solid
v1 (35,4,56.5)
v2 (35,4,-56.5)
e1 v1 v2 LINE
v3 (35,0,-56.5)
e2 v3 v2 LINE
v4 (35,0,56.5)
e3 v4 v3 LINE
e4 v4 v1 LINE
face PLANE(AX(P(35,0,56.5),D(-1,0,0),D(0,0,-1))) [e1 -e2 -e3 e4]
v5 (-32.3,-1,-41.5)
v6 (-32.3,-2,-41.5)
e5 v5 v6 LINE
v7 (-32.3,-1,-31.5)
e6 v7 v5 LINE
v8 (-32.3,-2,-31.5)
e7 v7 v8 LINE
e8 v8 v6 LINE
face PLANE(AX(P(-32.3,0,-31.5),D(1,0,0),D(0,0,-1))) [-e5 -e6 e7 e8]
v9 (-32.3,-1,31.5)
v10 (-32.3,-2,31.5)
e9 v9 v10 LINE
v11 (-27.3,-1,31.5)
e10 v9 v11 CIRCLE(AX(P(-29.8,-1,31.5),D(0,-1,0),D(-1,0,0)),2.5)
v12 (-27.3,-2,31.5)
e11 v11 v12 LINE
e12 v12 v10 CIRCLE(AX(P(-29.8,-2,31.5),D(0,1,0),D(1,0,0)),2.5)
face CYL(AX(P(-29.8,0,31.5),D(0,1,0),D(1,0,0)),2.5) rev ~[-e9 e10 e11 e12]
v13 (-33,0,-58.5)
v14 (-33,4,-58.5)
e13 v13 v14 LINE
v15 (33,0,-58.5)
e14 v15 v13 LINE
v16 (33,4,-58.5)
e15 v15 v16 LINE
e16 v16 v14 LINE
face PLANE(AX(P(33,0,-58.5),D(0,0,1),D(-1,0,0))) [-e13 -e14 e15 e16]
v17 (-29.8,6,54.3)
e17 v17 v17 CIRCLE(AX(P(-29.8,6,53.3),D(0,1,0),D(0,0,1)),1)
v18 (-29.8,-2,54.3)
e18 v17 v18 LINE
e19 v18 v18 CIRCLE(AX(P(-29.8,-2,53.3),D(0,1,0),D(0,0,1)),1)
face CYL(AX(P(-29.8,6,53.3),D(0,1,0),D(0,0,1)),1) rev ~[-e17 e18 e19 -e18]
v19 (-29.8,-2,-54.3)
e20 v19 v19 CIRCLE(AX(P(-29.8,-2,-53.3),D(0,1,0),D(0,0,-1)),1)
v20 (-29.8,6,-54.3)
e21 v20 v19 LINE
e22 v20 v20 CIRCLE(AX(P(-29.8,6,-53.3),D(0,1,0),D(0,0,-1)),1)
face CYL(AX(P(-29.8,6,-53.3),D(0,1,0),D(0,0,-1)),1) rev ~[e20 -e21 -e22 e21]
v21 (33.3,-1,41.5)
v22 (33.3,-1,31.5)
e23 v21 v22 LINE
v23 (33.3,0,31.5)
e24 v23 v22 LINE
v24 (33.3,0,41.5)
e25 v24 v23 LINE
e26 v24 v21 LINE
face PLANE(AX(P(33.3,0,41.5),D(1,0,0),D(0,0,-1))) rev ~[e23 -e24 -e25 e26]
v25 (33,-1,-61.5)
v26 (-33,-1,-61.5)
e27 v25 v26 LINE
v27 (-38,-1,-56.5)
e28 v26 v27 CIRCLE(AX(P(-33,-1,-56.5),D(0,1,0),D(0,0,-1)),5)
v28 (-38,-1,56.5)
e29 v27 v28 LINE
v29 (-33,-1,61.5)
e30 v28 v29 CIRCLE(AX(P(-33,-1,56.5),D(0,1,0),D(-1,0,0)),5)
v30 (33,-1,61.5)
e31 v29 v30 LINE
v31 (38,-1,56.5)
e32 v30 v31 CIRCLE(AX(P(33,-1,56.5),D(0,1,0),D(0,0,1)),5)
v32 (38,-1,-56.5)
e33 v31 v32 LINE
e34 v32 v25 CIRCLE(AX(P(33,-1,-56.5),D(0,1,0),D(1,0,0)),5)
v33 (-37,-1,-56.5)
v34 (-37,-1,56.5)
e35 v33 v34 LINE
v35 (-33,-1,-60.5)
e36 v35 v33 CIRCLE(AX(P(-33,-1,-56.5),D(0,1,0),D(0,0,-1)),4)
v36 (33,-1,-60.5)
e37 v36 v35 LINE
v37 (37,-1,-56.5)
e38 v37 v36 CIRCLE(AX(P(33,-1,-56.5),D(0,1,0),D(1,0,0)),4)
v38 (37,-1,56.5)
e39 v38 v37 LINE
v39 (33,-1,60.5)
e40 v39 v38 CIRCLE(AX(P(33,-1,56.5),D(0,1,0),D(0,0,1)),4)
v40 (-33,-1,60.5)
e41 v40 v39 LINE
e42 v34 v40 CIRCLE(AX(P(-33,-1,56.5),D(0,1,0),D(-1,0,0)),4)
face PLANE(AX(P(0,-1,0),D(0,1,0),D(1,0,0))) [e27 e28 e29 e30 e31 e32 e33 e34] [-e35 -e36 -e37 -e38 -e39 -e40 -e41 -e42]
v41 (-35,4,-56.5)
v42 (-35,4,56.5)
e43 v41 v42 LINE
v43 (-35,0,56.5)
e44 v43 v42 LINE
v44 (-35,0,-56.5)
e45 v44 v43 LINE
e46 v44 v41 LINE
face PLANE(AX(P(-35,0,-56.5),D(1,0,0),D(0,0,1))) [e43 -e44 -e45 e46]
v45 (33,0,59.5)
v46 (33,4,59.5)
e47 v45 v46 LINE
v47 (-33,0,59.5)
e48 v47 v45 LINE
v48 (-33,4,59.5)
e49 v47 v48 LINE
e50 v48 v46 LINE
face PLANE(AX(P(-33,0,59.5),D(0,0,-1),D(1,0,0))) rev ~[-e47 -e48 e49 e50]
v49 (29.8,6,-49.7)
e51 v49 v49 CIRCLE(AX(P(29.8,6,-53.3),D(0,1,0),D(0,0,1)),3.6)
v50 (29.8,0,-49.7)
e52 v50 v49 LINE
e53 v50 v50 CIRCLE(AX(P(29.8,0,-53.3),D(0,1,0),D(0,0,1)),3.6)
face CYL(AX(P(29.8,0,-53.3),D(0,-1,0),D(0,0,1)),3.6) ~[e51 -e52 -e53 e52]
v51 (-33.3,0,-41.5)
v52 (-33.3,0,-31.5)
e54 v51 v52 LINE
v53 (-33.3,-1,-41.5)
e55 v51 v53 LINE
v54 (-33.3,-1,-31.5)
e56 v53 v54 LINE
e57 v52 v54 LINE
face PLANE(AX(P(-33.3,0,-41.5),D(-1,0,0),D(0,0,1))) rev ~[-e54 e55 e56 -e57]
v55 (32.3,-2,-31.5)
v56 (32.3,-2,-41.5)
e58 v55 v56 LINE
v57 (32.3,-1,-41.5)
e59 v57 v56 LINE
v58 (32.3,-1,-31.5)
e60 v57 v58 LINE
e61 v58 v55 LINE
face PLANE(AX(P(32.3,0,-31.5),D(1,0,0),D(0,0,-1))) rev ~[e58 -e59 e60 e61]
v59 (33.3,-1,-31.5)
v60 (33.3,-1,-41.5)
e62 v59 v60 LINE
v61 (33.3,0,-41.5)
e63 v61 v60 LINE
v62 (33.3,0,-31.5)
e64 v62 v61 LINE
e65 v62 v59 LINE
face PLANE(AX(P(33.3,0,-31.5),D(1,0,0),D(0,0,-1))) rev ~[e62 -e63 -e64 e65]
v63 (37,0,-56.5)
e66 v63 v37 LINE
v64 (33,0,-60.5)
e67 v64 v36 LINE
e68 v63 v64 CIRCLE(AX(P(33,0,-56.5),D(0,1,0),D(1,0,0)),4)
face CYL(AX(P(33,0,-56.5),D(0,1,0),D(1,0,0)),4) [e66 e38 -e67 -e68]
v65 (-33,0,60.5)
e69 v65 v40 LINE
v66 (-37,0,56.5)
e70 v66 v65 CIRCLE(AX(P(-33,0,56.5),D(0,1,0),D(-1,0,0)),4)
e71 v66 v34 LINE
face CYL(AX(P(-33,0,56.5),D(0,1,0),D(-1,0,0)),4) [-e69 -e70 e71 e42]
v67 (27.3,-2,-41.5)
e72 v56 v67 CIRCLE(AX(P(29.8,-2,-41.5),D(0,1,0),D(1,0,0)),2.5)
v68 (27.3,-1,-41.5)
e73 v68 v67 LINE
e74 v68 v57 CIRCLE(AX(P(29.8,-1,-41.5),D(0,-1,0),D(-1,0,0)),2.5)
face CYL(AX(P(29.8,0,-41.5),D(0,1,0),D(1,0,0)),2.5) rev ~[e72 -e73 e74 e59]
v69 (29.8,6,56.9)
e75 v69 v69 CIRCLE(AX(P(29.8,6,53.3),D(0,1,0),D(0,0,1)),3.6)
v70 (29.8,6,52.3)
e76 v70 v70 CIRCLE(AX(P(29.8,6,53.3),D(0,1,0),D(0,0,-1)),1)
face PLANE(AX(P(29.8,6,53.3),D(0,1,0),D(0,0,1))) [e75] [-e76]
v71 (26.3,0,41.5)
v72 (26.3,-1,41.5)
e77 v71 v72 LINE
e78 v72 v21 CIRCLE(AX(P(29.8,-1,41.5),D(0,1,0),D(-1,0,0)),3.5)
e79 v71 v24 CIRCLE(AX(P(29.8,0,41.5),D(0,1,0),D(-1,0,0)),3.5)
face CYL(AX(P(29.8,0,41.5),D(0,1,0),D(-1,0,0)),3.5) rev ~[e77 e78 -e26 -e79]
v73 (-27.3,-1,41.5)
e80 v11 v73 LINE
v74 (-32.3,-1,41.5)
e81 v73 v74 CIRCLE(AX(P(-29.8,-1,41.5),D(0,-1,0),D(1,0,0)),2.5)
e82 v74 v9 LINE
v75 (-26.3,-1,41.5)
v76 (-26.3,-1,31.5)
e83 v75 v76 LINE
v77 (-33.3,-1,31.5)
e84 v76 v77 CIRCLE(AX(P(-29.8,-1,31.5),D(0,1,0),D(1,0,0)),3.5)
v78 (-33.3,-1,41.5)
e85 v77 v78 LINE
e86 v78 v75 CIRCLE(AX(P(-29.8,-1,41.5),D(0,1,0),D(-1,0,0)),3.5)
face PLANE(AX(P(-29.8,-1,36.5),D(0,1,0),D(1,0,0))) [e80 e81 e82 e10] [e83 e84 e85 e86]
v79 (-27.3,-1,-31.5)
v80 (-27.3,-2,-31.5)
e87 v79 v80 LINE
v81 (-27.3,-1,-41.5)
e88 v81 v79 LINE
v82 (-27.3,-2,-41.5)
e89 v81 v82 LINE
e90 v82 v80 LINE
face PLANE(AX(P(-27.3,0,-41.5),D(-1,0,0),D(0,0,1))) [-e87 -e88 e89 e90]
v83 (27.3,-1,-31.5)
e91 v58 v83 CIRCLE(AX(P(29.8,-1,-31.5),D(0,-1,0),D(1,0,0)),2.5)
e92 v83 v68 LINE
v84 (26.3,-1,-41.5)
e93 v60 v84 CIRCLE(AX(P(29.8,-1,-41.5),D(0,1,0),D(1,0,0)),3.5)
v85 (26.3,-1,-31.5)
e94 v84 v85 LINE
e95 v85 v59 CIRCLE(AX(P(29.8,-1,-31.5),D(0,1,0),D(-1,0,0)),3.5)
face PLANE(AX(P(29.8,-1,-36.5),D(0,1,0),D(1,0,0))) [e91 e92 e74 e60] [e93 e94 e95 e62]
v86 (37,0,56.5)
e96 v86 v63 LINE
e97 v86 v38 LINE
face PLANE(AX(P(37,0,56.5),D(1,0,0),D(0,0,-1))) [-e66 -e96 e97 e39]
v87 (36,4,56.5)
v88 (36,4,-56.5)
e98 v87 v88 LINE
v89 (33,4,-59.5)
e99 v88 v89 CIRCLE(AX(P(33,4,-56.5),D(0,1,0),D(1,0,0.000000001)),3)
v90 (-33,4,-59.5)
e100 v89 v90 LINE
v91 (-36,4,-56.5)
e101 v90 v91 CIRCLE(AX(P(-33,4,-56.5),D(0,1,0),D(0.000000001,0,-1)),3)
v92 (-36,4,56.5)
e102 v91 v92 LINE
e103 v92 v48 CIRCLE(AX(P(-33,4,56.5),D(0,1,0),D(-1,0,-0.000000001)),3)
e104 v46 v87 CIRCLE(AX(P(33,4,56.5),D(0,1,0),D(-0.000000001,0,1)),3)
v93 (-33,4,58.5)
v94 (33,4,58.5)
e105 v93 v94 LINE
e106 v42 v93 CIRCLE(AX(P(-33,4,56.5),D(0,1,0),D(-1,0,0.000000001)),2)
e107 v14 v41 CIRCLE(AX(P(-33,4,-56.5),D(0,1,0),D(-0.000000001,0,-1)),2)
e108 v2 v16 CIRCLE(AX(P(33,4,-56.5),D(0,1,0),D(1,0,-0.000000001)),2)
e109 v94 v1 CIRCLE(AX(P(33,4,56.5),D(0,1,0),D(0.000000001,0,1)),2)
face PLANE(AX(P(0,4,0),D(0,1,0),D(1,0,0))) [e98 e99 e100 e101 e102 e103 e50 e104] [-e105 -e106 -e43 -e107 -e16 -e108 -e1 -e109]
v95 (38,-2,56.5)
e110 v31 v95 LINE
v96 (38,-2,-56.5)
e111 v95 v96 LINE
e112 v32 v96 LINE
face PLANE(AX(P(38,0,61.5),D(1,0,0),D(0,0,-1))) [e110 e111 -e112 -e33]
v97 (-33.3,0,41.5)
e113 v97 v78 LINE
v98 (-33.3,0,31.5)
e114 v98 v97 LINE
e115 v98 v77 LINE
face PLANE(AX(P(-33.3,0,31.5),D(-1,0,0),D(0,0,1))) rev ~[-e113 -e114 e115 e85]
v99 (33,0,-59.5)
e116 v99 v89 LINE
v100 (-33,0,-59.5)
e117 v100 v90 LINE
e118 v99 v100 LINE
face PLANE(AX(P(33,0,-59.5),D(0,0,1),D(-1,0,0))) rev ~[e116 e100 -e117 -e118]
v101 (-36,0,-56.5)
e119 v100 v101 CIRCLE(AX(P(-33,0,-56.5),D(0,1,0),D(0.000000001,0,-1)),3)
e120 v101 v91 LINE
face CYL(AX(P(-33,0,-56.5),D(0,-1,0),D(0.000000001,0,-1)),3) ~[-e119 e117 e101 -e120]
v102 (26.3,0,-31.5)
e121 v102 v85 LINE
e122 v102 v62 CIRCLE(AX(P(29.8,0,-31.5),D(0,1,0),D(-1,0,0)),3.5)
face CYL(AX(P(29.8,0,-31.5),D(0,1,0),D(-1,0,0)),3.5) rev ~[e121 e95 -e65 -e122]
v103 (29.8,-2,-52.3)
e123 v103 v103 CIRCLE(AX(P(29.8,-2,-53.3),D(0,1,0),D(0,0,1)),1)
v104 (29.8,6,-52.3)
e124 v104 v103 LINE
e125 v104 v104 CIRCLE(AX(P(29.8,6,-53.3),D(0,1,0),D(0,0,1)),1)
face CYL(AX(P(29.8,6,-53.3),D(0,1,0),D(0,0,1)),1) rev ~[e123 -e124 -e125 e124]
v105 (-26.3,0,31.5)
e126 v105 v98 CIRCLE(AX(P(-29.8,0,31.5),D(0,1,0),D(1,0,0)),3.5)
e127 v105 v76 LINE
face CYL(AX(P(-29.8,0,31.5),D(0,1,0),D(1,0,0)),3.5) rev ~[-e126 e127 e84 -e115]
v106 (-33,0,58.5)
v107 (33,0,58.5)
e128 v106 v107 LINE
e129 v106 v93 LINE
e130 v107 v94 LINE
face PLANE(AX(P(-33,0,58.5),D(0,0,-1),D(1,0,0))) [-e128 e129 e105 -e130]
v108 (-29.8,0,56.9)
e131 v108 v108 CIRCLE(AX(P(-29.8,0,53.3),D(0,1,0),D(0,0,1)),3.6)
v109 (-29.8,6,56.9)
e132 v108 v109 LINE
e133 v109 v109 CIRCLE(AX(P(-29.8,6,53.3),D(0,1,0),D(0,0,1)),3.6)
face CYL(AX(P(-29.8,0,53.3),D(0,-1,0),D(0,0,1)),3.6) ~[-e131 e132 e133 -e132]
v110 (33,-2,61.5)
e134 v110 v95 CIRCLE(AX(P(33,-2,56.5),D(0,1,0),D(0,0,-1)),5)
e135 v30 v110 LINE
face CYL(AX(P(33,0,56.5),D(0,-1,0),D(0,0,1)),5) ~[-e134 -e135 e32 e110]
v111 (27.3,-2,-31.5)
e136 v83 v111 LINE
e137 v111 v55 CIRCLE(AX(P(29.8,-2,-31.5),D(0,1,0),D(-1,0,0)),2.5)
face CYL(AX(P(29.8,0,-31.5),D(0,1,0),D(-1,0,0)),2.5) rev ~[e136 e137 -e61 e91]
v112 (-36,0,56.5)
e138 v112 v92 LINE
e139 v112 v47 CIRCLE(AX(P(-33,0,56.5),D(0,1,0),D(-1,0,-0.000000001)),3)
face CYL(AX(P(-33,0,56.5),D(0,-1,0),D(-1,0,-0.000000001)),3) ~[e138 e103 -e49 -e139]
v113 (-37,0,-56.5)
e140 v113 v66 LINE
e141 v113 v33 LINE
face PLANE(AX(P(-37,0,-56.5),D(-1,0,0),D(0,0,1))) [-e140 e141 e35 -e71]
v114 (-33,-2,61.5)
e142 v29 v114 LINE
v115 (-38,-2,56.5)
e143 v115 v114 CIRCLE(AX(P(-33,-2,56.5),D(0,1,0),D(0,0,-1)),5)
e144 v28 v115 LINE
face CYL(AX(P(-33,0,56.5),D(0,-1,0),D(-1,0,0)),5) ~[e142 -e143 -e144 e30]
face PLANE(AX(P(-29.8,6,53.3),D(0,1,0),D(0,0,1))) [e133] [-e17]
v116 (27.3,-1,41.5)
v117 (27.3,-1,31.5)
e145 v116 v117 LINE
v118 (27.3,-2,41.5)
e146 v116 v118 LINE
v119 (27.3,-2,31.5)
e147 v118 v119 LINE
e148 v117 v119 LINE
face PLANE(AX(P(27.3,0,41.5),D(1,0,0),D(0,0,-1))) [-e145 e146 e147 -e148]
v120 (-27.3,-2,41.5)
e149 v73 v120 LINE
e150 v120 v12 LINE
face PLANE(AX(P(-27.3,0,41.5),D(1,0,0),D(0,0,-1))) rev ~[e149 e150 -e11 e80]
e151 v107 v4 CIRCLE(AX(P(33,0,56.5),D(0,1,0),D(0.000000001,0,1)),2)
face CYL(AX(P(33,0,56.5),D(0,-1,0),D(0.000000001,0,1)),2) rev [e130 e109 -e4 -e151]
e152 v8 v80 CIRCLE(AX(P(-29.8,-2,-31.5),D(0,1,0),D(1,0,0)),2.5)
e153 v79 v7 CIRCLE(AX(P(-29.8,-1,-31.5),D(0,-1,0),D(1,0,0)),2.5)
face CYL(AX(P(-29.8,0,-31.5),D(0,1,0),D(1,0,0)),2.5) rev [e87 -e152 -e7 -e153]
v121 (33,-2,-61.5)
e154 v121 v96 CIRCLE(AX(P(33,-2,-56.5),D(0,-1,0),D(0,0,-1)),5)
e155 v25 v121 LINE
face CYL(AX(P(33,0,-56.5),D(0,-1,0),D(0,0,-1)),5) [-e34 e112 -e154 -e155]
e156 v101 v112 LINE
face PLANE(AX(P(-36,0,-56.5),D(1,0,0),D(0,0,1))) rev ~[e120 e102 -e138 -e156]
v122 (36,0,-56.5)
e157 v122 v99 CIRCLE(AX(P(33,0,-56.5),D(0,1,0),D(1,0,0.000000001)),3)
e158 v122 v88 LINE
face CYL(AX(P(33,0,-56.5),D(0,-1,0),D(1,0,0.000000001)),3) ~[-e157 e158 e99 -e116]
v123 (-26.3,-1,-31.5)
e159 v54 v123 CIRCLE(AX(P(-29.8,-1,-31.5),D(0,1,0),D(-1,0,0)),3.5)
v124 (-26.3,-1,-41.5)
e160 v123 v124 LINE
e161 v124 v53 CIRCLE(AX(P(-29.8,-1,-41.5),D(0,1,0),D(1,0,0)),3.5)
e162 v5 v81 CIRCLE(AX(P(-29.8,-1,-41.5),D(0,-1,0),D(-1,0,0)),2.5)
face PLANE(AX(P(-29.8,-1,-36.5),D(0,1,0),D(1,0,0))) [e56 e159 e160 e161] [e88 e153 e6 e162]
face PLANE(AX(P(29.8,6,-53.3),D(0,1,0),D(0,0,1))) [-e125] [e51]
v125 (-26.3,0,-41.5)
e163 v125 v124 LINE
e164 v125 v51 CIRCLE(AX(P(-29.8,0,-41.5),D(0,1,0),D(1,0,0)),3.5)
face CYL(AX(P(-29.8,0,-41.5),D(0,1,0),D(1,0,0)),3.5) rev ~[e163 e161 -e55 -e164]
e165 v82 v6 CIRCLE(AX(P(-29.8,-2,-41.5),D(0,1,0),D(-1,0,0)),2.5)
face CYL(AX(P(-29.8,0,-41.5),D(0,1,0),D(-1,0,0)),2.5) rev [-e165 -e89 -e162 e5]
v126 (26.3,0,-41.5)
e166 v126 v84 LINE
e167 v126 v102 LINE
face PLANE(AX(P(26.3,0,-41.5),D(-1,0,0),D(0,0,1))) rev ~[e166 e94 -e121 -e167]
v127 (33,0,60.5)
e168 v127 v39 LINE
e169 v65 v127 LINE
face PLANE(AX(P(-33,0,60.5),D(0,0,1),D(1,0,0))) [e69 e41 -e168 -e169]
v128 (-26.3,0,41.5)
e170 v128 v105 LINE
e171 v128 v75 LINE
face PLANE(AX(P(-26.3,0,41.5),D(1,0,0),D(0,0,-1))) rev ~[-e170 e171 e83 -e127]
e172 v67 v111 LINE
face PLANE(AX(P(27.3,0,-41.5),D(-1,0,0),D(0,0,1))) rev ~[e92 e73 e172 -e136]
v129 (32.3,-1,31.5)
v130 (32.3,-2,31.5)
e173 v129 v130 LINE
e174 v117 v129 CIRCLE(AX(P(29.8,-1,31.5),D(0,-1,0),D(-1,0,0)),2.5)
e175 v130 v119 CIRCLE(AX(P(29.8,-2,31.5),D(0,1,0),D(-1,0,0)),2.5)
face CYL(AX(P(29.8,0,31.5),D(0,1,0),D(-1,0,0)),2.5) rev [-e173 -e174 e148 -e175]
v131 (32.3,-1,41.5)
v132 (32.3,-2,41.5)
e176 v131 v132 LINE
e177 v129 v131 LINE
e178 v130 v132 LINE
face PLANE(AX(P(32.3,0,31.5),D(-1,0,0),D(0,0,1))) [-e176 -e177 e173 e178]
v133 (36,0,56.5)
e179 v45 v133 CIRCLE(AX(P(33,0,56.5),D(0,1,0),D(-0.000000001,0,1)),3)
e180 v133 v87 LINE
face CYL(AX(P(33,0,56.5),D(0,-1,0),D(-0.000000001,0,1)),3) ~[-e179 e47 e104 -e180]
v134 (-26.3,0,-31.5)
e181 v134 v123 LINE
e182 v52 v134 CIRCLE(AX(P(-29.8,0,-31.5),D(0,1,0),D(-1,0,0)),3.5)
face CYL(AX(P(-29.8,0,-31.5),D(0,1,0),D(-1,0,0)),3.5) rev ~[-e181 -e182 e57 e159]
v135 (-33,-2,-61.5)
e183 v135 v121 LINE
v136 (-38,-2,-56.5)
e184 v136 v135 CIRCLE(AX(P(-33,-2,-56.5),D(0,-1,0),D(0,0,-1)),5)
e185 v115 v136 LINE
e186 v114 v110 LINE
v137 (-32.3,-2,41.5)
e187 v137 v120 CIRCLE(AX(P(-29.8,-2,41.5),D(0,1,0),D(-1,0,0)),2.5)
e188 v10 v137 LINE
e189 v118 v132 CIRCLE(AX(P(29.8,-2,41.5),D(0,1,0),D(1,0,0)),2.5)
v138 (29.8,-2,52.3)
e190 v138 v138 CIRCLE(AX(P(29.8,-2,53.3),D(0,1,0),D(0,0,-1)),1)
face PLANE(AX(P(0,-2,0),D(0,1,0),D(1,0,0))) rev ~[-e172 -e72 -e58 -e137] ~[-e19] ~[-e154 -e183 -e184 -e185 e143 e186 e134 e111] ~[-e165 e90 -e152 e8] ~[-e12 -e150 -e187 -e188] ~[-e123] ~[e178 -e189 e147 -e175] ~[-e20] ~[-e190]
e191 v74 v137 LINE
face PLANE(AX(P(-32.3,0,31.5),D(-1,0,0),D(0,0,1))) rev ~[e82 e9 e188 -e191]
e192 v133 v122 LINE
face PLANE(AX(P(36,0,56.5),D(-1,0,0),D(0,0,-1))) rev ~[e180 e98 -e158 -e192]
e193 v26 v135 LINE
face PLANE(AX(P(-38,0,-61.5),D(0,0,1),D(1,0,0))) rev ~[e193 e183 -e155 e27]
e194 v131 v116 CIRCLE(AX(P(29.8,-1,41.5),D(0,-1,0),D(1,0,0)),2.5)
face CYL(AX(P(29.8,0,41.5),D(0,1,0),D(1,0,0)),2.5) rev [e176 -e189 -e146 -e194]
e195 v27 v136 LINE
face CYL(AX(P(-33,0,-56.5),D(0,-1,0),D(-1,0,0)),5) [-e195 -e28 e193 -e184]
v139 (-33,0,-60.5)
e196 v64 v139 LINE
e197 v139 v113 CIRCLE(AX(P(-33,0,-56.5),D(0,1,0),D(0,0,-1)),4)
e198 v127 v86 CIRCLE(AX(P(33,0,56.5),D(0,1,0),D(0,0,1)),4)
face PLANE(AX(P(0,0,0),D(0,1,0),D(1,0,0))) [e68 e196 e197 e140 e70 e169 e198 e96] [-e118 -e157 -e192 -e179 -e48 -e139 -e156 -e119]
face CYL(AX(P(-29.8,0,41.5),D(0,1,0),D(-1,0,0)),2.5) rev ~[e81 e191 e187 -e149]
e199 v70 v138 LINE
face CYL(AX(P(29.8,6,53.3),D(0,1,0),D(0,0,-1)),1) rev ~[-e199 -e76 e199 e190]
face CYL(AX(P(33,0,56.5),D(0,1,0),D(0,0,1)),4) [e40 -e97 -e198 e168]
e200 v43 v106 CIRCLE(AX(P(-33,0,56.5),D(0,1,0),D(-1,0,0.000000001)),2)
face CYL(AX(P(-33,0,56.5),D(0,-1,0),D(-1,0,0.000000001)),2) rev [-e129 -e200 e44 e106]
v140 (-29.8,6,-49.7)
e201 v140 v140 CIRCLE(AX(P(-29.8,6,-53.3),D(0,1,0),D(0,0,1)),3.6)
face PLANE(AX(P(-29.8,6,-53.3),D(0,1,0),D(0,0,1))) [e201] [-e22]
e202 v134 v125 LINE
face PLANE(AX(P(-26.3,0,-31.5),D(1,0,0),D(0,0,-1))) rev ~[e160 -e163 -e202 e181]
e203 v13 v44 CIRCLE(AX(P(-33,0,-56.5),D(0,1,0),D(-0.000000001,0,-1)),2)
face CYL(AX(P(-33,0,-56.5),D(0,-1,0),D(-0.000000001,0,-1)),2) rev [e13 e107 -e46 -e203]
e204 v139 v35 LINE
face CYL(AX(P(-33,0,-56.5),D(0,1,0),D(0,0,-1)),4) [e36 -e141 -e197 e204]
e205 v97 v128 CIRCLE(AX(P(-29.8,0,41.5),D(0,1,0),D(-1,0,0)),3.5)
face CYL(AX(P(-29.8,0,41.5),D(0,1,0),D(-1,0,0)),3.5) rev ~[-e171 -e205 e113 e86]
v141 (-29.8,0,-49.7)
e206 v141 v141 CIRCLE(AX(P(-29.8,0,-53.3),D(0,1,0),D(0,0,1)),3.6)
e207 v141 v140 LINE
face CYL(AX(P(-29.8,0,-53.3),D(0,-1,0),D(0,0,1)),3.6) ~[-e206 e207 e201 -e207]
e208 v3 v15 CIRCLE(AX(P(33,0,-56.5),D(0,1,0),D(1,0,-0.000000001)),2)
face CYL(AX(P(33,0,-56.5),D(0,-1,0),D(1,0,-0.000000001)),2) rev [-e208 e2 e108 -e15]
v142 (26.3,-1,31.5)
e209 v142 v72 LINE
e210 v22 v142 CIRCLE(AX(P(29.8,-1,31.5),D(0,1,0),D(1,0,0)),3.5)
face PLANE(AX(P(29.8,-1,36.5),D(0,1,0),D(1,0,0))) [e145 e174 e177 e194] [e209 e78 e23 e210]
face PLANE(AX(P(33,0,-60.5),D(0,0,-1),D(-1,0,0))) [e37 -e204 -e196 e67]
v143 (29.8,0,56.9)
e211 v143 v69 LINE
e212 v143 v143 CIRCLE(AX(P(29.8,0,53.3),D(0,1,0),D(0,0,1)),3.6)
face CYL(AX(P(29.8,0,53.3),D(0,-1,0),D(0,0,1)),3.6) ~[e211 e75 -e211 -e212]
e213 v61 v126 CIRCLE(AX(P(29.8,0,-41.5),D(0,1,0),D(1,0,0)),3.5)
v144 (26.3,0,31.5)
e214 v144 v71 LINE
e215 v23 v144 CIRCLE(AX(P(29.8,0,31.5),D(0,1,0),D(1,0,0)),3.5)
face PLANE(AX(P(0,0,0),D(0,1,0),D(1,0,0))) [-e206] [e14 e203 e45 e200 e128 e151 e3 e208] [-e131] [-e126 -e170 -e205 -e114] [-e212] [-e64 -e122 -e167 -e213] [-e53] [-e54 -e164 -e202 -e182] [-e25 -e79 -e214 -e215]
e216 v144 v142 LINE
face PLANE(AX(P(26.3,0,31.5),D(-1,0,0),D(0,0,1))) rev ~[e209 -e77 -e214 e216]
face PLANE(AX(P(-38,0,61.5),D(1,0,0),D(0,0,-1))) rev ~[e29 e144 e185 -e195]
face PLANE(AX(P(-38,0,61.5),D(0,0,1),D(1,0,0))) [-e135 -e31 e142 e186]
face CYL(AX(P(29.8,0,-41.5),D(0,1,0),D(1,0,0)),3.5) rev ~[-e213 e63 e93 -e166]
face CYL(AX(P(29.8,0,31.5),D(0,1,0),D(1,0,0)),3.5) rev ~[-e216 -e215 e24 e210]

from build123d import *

# Parameters (mm, degrees)
SKETCH1_W           = 76
SKETCH1_H           = 123
BOSS_EXTRUDE2_DEPTH = 2
SKETCH1_4_R         = 3.6
BOSS_EXTRUDE3_DEPTH = 6
FILLET1_R           = 5
CUT_EXTRUDE1_DEPTH  = 73.541367508
SKETCH3_R           = 1
CUT_EXTRUDE2_DEPTH  = 73.734104793
CUT_EXTRUDE4_DEPTH  = 1
BOSS_EXTRUDE4_DEPTH = 4


with BuildPart() as part:
    # Sketch1 → Boss-Extrude2 (new body)
    with BuildSketch(Plane(origin=(0, 0, 0), x_dir=(1, 0, 0), z_dir=(0, 1, 0))):
        Rectangle(SKETCH1_W, SKETCH1_H)
    extrude(amount=-BOSS_EXTRUDE2_DEPTH)

    # Sketch1<4> → Boss-Extrude3 (add)
    with BuildSketch(Plane(origin=(0, 0, 0), x_dir=(1, 0, 0), z_dir=(0, 1, 0))):
        with Locations((-29.8, 53.3)):
            Circle(SKETCH1_4_R)
        with Locations((29.8, 53.3)):
            Circle(SKETCH1_4_R)
        with Locations((29.8, -53.3)):
            Circle(SKETCH1_4_R)
        with Locations((-29.8, -53.3)):
            Circle(SKETCH1_4_R)
    extrude(amount=BOSS_EXTRUDE3_DEPTH)

    # Fillet1
    fillet1_edges = [part.edges().sort_by_distance(p)[0] for p in [
        (-38, -1, -61.5),
        (38, -1, -61.5),
        (38, -1, 61.5),
        (-38, -1, 61.5),
    ]]
    fillet(fillet1_edges, radius=FILLET1_R)

    # Sketch2 → Cut-Extrude1 (cut, through all)
    with BuildSketch(Plane(origin=(0, 0, 0), x_dir=(1, 0, 0), z_dir=(0, 1, 0))):
        with BuildLine():
            Line((-27.3, 41.5), (-27.3, 31.5))
            ThreePointArc((-27.3, 31.5), (-29.8, 29), (-32.3, 31.5))
            Line((-32.3, 31.5), (-32.3, 41.5))
            ThreePointArc((-32.3, 41.5), (-29.8, 44), (-27.3, 41.5))
        make_face()
        with BuildLine():
            Line((27.3, 41.5), (27.3, 31.5))
            ThreePointArc((27.3, 31.5), (29.8, 29), (32.3, 31.5))
            Line((32.3, 31.5), (32.3, 41.5))
            ThreePointArc((32.3, 41.5), (29.8, 44), (27.3, 41.5))
        make_face()
        with BuildLine():
            Line((-27.3, -41.5), (-27.3, -31.5))
            ThreePointArc((-27.3, -31.5), (-29.8, -29), (-32.3, -31.5))
            Line((-32.3, -31.5), (-32.3, -41.5))
            ThreePointArc((-32.3, -41.5), (-29.8, -44), (-27.3, -41.5))
        make_face()
        with BuildLine():
            Line((27.3, -41.5), (27.3, -31.5))
            ThreePointArc((27.3, -31.5), (29.8, -29), (32.3, -31.5))
            Line((32.3, -31.5), (32.3, -41.5))
            ThreePointArc((32.3, -41.5), (29.8, -44), (27.3, -41.5))
        make_face()
    extrude(amount=-CUT_EXTRUDE1_DEPTH, mode=Mode.SUBTRACT)

    # Sketch3 → Cut-Extrude2 (cut, through all)
    with BuildSketch(Plane(origin=(0, 6, 0), x_dir=(1, 0, 0), z_dir=(0, 1, 0))):
        with Locations((-29.8, -53.3)):
            Circle(SKETCH3_R)
        with Locations((29.8, -53.3)):
            Circle(SKETCH3_R)
        with Locations((29.8, 53.3)):
            Circle(SKETCH3_R)
        with Locations((-29.8, 53.3)):
            Circle(SKETCH3_R)
    extrude(amount=-CUT_EXTRUDE2_DEPTH, mode=Mode.SUBTRACT)

    # Sketch4 → Cut-Extrude4 (cut)
    # profile 1 of 5: a face of its own
    with BuildSketch(Plane(origin=(0, 0, 0), x_dir=(1, 0, 0), z_dir=(0, 1, 0))):
        with BuildLine():
            ThreePointArc((-38, -56.5), (-36.535533906, -60.035533906), (-33, -61.5))
            Line((-33, -61.5), (33, -61.5))
            ThreePointArc((33, -61.5), (36.535533906, -60.035533906), (38, -56.5))
            Line((38, -56.5), (38, 56.5))
            ThreePointArc((38, 56.5), (36.535533906, 60.035533906), (33, 61.5))
            Line((33, 61.5), (-33, 61.5))
            ThreePointArc((-33, 61.5), (-36.535533906, 60.035533906), (-38, 56.5))
            Line((-38, 56.5), (-38, -56.5))
        make_face()
        with BuildLine():
            Line((33, -60.5), (-33, -60.5))
            ThreePointArc((-33, -60.5), (-35.828427125, -59.328427125), (-37, -56.5))
            Line((-37, -56.5), (-37, 56.5))
            ThreePointArc((-37, 56.5), (-35.828427125, 59.328427125), (-33, 60.5))
            Line((-33, 60.5), (33, 60.5))
            ThreePointArc((33, 60.5), (35.828427125, 59.328427125), (37, 56.5))
            Line((37, 56.5), (37, -56.5))
            ThreePointArc((37, -56.5), (35.828427125, -59.328427125), (33, -60.5))
        make_face(mode=Mode.SUBTRACT)
    # profile 2 of 5: a face of its own
    with BuildSketch(Plane(origin=(0, 0, 0), x_dir=(1, 0, 0), z_dir=(0, 1, 0))):
        with BuildLine():
            ThreePointArc((26.3, 31.5), (29.8, 28), (33.3, 31.5))
            Line((33.3, 31.5), (33.3, 41.5))
            ThreePointArc((33.3, 41.5), (29.8, 45), (26.3, 41.5))
            Line((26.3, 41.5), (26.3, 31.5))
        make_face()
        with BuildLine():
            Line((32.3, 41.5), (32.3, 31.5))
            ThreePointArc((32.3, 31.5), (29.8, 29), (27.3, 31.5))
            Line((27.3, 31.5), (27.3, 41.5))
            ThreePointArc((27.3, 41.5), (29.8, 44), (32.3, 41.5))
        make_face(mode=Mode.SUBTRACT)
    # profile 3 of 5: a face of its own
    with BuildSketch(Plane(origin=(0, 0, 0), x_dir=(1, 0, 0), z_dir=(0, 1, 0))):
        with BuildLine():
            ThreePointArc((-33.3, 31.5), (-29.8, 28), (-26.3, 31.5))
            Line((-26.3, 31.5), (-26.3, 41.5))
            ThreePointArc((-26.3, 41.5), (-29.8, 45), (-33.3, 41.5))
            Line((-33.3, 41.5), (-33.3, 31.5))
        make_face()
        with BuildLine():
            Line((-27.3, 41.5), (-27.3, 31.5))
            ThreePointArc((-27.3, 31.5), (-29.8, 29), (-32.3, 31.5))
            Line((-32.3, 31.5), (-32.3, 41.5))
            ThreePointArc((-32.3, 41.5), (-29.8, 44), (-27.3, 41.5))
        make_face(mode=Mode.SUBTRACT)
    # profile 4 of 5: a face of its own
    with BuildSketch(Plane(origin=(0, 0, 0), x_dir=(1, 0, 0), z_dir=(0, 1, 0))):
        with BuildLine():
            ThreePointArc((-26.3, -31.5), (-29.8, -28), (-33.3, -31.5))
            Line((-33.3, -31.5), (-33.3, -41.5))
            ThreePointArc((-33.3, -41.5), (-29.8, -45), (-26.3, -41.5))
            Line((-26.3, -41.5), (-26.3, -31.5))
        make_face()
        with BuildLine():
            Line((-32.3, -41.5), (-32.3, -31.5))
            ThreePointArc((-32.3, -31.5), (-29.8, -29), (-27.3, -31.5))
            Line((-27.3, -31.5), (-27.3, -41.5))
            ThreePointArc((-27.3, -41.5), (-29.8, -44), (-32.3, -41.5))
        make_face(mode=Mode.SUBTRACT)
    # profile 5 of 5: a face of its own
    with BuildSketch(Plane(origin=(0, 0, 0), x_dir=(1, 0, 0), z_dir=(0, 1, 0))):
        with BuildLine():
            ThreePointArc((26.3, -41.5), (29.8, -45), (33.3, -41.5))
            Line((33.3, -41.5), (33.3, -31.5))
            ThreePointArc((33.3, -31.5), (29.8, -28), (26.3, -31.5))
            Line((26.3, -31.5), (26.3, -41.5))
        make_face()
        with BuildLine():
            Line((32.3, -31.5), (32.3, -41.5))
            ThreePointArc((32.3, -41.5), (29.8, -44), (27.3, -41.5))
            Line((27.3, -41.5), (27.3, -31.5))
            ThreePointArc((27.3, -31.5), (29.8, -29), (32.3, -31.5))
        make_face(mode=Mode.SUBTRACT)
    extrude(amount=-CUT_EXTRUDE4_DEPTH, mode=Mode.SUBTRACT)

    # Sketch5 → Boss-Extrude4 (add)
    with BuildSketch(Plane(origin=(0, 0, 0), x_dir=(1, 0, 0), z_dir=(0, 1, 0))):
        with BuildLine():
            Line((-36, 56.5), (-36, -56.5))
            ThreePointArc((-36, -56.5), (-35.121320344, -58.621320344), (-33, -59.5))
            Line((-33, -59.5), (33, -59.5))
            ThreePointArc((33, -59.5), (35.121320344, -58.621320344), (36, -56.5))
            Line((36, -56.5), (36, 56.5))
            ThreePointArc((36, 56.5), (35.121320344, 58.621320344), (33, 59.5))
            Line((33, 59.5), (-33, 59.5))
            ThreePointArc((-33, 59.5), (-35.121320344, 58.621320344), (-36, 56.5))
        make_face()
        with BuildLine():
            Line((-35, 56.5), (-35, -56.5))
            ThreePointArc((-35, -56.5), (-34.414213562, -57.914213562), (-33, -58.5))
            Line((-33, -58.5), (33, -58.5))
            ThreePointArc((33, -58.5), (34.414213562, -57.914213562), (35, -56.5))
            Line((35, -56.5), (35, 56.5))
            ThreePointArc((35, 56.5), (34.414213562, 57.914213562), (33, 58.5))
            Line((33, 58.5), (-33, 58.5))
            ThreePointArc((-33, 58.5), (-34.414213562, 57.914213562), (-35, 56.5))
        make_face(mode=Mode.SUBTRACT)
    extrude(amount=BOSS_EXTRUDE4_DEPTH)


solid = part.part
